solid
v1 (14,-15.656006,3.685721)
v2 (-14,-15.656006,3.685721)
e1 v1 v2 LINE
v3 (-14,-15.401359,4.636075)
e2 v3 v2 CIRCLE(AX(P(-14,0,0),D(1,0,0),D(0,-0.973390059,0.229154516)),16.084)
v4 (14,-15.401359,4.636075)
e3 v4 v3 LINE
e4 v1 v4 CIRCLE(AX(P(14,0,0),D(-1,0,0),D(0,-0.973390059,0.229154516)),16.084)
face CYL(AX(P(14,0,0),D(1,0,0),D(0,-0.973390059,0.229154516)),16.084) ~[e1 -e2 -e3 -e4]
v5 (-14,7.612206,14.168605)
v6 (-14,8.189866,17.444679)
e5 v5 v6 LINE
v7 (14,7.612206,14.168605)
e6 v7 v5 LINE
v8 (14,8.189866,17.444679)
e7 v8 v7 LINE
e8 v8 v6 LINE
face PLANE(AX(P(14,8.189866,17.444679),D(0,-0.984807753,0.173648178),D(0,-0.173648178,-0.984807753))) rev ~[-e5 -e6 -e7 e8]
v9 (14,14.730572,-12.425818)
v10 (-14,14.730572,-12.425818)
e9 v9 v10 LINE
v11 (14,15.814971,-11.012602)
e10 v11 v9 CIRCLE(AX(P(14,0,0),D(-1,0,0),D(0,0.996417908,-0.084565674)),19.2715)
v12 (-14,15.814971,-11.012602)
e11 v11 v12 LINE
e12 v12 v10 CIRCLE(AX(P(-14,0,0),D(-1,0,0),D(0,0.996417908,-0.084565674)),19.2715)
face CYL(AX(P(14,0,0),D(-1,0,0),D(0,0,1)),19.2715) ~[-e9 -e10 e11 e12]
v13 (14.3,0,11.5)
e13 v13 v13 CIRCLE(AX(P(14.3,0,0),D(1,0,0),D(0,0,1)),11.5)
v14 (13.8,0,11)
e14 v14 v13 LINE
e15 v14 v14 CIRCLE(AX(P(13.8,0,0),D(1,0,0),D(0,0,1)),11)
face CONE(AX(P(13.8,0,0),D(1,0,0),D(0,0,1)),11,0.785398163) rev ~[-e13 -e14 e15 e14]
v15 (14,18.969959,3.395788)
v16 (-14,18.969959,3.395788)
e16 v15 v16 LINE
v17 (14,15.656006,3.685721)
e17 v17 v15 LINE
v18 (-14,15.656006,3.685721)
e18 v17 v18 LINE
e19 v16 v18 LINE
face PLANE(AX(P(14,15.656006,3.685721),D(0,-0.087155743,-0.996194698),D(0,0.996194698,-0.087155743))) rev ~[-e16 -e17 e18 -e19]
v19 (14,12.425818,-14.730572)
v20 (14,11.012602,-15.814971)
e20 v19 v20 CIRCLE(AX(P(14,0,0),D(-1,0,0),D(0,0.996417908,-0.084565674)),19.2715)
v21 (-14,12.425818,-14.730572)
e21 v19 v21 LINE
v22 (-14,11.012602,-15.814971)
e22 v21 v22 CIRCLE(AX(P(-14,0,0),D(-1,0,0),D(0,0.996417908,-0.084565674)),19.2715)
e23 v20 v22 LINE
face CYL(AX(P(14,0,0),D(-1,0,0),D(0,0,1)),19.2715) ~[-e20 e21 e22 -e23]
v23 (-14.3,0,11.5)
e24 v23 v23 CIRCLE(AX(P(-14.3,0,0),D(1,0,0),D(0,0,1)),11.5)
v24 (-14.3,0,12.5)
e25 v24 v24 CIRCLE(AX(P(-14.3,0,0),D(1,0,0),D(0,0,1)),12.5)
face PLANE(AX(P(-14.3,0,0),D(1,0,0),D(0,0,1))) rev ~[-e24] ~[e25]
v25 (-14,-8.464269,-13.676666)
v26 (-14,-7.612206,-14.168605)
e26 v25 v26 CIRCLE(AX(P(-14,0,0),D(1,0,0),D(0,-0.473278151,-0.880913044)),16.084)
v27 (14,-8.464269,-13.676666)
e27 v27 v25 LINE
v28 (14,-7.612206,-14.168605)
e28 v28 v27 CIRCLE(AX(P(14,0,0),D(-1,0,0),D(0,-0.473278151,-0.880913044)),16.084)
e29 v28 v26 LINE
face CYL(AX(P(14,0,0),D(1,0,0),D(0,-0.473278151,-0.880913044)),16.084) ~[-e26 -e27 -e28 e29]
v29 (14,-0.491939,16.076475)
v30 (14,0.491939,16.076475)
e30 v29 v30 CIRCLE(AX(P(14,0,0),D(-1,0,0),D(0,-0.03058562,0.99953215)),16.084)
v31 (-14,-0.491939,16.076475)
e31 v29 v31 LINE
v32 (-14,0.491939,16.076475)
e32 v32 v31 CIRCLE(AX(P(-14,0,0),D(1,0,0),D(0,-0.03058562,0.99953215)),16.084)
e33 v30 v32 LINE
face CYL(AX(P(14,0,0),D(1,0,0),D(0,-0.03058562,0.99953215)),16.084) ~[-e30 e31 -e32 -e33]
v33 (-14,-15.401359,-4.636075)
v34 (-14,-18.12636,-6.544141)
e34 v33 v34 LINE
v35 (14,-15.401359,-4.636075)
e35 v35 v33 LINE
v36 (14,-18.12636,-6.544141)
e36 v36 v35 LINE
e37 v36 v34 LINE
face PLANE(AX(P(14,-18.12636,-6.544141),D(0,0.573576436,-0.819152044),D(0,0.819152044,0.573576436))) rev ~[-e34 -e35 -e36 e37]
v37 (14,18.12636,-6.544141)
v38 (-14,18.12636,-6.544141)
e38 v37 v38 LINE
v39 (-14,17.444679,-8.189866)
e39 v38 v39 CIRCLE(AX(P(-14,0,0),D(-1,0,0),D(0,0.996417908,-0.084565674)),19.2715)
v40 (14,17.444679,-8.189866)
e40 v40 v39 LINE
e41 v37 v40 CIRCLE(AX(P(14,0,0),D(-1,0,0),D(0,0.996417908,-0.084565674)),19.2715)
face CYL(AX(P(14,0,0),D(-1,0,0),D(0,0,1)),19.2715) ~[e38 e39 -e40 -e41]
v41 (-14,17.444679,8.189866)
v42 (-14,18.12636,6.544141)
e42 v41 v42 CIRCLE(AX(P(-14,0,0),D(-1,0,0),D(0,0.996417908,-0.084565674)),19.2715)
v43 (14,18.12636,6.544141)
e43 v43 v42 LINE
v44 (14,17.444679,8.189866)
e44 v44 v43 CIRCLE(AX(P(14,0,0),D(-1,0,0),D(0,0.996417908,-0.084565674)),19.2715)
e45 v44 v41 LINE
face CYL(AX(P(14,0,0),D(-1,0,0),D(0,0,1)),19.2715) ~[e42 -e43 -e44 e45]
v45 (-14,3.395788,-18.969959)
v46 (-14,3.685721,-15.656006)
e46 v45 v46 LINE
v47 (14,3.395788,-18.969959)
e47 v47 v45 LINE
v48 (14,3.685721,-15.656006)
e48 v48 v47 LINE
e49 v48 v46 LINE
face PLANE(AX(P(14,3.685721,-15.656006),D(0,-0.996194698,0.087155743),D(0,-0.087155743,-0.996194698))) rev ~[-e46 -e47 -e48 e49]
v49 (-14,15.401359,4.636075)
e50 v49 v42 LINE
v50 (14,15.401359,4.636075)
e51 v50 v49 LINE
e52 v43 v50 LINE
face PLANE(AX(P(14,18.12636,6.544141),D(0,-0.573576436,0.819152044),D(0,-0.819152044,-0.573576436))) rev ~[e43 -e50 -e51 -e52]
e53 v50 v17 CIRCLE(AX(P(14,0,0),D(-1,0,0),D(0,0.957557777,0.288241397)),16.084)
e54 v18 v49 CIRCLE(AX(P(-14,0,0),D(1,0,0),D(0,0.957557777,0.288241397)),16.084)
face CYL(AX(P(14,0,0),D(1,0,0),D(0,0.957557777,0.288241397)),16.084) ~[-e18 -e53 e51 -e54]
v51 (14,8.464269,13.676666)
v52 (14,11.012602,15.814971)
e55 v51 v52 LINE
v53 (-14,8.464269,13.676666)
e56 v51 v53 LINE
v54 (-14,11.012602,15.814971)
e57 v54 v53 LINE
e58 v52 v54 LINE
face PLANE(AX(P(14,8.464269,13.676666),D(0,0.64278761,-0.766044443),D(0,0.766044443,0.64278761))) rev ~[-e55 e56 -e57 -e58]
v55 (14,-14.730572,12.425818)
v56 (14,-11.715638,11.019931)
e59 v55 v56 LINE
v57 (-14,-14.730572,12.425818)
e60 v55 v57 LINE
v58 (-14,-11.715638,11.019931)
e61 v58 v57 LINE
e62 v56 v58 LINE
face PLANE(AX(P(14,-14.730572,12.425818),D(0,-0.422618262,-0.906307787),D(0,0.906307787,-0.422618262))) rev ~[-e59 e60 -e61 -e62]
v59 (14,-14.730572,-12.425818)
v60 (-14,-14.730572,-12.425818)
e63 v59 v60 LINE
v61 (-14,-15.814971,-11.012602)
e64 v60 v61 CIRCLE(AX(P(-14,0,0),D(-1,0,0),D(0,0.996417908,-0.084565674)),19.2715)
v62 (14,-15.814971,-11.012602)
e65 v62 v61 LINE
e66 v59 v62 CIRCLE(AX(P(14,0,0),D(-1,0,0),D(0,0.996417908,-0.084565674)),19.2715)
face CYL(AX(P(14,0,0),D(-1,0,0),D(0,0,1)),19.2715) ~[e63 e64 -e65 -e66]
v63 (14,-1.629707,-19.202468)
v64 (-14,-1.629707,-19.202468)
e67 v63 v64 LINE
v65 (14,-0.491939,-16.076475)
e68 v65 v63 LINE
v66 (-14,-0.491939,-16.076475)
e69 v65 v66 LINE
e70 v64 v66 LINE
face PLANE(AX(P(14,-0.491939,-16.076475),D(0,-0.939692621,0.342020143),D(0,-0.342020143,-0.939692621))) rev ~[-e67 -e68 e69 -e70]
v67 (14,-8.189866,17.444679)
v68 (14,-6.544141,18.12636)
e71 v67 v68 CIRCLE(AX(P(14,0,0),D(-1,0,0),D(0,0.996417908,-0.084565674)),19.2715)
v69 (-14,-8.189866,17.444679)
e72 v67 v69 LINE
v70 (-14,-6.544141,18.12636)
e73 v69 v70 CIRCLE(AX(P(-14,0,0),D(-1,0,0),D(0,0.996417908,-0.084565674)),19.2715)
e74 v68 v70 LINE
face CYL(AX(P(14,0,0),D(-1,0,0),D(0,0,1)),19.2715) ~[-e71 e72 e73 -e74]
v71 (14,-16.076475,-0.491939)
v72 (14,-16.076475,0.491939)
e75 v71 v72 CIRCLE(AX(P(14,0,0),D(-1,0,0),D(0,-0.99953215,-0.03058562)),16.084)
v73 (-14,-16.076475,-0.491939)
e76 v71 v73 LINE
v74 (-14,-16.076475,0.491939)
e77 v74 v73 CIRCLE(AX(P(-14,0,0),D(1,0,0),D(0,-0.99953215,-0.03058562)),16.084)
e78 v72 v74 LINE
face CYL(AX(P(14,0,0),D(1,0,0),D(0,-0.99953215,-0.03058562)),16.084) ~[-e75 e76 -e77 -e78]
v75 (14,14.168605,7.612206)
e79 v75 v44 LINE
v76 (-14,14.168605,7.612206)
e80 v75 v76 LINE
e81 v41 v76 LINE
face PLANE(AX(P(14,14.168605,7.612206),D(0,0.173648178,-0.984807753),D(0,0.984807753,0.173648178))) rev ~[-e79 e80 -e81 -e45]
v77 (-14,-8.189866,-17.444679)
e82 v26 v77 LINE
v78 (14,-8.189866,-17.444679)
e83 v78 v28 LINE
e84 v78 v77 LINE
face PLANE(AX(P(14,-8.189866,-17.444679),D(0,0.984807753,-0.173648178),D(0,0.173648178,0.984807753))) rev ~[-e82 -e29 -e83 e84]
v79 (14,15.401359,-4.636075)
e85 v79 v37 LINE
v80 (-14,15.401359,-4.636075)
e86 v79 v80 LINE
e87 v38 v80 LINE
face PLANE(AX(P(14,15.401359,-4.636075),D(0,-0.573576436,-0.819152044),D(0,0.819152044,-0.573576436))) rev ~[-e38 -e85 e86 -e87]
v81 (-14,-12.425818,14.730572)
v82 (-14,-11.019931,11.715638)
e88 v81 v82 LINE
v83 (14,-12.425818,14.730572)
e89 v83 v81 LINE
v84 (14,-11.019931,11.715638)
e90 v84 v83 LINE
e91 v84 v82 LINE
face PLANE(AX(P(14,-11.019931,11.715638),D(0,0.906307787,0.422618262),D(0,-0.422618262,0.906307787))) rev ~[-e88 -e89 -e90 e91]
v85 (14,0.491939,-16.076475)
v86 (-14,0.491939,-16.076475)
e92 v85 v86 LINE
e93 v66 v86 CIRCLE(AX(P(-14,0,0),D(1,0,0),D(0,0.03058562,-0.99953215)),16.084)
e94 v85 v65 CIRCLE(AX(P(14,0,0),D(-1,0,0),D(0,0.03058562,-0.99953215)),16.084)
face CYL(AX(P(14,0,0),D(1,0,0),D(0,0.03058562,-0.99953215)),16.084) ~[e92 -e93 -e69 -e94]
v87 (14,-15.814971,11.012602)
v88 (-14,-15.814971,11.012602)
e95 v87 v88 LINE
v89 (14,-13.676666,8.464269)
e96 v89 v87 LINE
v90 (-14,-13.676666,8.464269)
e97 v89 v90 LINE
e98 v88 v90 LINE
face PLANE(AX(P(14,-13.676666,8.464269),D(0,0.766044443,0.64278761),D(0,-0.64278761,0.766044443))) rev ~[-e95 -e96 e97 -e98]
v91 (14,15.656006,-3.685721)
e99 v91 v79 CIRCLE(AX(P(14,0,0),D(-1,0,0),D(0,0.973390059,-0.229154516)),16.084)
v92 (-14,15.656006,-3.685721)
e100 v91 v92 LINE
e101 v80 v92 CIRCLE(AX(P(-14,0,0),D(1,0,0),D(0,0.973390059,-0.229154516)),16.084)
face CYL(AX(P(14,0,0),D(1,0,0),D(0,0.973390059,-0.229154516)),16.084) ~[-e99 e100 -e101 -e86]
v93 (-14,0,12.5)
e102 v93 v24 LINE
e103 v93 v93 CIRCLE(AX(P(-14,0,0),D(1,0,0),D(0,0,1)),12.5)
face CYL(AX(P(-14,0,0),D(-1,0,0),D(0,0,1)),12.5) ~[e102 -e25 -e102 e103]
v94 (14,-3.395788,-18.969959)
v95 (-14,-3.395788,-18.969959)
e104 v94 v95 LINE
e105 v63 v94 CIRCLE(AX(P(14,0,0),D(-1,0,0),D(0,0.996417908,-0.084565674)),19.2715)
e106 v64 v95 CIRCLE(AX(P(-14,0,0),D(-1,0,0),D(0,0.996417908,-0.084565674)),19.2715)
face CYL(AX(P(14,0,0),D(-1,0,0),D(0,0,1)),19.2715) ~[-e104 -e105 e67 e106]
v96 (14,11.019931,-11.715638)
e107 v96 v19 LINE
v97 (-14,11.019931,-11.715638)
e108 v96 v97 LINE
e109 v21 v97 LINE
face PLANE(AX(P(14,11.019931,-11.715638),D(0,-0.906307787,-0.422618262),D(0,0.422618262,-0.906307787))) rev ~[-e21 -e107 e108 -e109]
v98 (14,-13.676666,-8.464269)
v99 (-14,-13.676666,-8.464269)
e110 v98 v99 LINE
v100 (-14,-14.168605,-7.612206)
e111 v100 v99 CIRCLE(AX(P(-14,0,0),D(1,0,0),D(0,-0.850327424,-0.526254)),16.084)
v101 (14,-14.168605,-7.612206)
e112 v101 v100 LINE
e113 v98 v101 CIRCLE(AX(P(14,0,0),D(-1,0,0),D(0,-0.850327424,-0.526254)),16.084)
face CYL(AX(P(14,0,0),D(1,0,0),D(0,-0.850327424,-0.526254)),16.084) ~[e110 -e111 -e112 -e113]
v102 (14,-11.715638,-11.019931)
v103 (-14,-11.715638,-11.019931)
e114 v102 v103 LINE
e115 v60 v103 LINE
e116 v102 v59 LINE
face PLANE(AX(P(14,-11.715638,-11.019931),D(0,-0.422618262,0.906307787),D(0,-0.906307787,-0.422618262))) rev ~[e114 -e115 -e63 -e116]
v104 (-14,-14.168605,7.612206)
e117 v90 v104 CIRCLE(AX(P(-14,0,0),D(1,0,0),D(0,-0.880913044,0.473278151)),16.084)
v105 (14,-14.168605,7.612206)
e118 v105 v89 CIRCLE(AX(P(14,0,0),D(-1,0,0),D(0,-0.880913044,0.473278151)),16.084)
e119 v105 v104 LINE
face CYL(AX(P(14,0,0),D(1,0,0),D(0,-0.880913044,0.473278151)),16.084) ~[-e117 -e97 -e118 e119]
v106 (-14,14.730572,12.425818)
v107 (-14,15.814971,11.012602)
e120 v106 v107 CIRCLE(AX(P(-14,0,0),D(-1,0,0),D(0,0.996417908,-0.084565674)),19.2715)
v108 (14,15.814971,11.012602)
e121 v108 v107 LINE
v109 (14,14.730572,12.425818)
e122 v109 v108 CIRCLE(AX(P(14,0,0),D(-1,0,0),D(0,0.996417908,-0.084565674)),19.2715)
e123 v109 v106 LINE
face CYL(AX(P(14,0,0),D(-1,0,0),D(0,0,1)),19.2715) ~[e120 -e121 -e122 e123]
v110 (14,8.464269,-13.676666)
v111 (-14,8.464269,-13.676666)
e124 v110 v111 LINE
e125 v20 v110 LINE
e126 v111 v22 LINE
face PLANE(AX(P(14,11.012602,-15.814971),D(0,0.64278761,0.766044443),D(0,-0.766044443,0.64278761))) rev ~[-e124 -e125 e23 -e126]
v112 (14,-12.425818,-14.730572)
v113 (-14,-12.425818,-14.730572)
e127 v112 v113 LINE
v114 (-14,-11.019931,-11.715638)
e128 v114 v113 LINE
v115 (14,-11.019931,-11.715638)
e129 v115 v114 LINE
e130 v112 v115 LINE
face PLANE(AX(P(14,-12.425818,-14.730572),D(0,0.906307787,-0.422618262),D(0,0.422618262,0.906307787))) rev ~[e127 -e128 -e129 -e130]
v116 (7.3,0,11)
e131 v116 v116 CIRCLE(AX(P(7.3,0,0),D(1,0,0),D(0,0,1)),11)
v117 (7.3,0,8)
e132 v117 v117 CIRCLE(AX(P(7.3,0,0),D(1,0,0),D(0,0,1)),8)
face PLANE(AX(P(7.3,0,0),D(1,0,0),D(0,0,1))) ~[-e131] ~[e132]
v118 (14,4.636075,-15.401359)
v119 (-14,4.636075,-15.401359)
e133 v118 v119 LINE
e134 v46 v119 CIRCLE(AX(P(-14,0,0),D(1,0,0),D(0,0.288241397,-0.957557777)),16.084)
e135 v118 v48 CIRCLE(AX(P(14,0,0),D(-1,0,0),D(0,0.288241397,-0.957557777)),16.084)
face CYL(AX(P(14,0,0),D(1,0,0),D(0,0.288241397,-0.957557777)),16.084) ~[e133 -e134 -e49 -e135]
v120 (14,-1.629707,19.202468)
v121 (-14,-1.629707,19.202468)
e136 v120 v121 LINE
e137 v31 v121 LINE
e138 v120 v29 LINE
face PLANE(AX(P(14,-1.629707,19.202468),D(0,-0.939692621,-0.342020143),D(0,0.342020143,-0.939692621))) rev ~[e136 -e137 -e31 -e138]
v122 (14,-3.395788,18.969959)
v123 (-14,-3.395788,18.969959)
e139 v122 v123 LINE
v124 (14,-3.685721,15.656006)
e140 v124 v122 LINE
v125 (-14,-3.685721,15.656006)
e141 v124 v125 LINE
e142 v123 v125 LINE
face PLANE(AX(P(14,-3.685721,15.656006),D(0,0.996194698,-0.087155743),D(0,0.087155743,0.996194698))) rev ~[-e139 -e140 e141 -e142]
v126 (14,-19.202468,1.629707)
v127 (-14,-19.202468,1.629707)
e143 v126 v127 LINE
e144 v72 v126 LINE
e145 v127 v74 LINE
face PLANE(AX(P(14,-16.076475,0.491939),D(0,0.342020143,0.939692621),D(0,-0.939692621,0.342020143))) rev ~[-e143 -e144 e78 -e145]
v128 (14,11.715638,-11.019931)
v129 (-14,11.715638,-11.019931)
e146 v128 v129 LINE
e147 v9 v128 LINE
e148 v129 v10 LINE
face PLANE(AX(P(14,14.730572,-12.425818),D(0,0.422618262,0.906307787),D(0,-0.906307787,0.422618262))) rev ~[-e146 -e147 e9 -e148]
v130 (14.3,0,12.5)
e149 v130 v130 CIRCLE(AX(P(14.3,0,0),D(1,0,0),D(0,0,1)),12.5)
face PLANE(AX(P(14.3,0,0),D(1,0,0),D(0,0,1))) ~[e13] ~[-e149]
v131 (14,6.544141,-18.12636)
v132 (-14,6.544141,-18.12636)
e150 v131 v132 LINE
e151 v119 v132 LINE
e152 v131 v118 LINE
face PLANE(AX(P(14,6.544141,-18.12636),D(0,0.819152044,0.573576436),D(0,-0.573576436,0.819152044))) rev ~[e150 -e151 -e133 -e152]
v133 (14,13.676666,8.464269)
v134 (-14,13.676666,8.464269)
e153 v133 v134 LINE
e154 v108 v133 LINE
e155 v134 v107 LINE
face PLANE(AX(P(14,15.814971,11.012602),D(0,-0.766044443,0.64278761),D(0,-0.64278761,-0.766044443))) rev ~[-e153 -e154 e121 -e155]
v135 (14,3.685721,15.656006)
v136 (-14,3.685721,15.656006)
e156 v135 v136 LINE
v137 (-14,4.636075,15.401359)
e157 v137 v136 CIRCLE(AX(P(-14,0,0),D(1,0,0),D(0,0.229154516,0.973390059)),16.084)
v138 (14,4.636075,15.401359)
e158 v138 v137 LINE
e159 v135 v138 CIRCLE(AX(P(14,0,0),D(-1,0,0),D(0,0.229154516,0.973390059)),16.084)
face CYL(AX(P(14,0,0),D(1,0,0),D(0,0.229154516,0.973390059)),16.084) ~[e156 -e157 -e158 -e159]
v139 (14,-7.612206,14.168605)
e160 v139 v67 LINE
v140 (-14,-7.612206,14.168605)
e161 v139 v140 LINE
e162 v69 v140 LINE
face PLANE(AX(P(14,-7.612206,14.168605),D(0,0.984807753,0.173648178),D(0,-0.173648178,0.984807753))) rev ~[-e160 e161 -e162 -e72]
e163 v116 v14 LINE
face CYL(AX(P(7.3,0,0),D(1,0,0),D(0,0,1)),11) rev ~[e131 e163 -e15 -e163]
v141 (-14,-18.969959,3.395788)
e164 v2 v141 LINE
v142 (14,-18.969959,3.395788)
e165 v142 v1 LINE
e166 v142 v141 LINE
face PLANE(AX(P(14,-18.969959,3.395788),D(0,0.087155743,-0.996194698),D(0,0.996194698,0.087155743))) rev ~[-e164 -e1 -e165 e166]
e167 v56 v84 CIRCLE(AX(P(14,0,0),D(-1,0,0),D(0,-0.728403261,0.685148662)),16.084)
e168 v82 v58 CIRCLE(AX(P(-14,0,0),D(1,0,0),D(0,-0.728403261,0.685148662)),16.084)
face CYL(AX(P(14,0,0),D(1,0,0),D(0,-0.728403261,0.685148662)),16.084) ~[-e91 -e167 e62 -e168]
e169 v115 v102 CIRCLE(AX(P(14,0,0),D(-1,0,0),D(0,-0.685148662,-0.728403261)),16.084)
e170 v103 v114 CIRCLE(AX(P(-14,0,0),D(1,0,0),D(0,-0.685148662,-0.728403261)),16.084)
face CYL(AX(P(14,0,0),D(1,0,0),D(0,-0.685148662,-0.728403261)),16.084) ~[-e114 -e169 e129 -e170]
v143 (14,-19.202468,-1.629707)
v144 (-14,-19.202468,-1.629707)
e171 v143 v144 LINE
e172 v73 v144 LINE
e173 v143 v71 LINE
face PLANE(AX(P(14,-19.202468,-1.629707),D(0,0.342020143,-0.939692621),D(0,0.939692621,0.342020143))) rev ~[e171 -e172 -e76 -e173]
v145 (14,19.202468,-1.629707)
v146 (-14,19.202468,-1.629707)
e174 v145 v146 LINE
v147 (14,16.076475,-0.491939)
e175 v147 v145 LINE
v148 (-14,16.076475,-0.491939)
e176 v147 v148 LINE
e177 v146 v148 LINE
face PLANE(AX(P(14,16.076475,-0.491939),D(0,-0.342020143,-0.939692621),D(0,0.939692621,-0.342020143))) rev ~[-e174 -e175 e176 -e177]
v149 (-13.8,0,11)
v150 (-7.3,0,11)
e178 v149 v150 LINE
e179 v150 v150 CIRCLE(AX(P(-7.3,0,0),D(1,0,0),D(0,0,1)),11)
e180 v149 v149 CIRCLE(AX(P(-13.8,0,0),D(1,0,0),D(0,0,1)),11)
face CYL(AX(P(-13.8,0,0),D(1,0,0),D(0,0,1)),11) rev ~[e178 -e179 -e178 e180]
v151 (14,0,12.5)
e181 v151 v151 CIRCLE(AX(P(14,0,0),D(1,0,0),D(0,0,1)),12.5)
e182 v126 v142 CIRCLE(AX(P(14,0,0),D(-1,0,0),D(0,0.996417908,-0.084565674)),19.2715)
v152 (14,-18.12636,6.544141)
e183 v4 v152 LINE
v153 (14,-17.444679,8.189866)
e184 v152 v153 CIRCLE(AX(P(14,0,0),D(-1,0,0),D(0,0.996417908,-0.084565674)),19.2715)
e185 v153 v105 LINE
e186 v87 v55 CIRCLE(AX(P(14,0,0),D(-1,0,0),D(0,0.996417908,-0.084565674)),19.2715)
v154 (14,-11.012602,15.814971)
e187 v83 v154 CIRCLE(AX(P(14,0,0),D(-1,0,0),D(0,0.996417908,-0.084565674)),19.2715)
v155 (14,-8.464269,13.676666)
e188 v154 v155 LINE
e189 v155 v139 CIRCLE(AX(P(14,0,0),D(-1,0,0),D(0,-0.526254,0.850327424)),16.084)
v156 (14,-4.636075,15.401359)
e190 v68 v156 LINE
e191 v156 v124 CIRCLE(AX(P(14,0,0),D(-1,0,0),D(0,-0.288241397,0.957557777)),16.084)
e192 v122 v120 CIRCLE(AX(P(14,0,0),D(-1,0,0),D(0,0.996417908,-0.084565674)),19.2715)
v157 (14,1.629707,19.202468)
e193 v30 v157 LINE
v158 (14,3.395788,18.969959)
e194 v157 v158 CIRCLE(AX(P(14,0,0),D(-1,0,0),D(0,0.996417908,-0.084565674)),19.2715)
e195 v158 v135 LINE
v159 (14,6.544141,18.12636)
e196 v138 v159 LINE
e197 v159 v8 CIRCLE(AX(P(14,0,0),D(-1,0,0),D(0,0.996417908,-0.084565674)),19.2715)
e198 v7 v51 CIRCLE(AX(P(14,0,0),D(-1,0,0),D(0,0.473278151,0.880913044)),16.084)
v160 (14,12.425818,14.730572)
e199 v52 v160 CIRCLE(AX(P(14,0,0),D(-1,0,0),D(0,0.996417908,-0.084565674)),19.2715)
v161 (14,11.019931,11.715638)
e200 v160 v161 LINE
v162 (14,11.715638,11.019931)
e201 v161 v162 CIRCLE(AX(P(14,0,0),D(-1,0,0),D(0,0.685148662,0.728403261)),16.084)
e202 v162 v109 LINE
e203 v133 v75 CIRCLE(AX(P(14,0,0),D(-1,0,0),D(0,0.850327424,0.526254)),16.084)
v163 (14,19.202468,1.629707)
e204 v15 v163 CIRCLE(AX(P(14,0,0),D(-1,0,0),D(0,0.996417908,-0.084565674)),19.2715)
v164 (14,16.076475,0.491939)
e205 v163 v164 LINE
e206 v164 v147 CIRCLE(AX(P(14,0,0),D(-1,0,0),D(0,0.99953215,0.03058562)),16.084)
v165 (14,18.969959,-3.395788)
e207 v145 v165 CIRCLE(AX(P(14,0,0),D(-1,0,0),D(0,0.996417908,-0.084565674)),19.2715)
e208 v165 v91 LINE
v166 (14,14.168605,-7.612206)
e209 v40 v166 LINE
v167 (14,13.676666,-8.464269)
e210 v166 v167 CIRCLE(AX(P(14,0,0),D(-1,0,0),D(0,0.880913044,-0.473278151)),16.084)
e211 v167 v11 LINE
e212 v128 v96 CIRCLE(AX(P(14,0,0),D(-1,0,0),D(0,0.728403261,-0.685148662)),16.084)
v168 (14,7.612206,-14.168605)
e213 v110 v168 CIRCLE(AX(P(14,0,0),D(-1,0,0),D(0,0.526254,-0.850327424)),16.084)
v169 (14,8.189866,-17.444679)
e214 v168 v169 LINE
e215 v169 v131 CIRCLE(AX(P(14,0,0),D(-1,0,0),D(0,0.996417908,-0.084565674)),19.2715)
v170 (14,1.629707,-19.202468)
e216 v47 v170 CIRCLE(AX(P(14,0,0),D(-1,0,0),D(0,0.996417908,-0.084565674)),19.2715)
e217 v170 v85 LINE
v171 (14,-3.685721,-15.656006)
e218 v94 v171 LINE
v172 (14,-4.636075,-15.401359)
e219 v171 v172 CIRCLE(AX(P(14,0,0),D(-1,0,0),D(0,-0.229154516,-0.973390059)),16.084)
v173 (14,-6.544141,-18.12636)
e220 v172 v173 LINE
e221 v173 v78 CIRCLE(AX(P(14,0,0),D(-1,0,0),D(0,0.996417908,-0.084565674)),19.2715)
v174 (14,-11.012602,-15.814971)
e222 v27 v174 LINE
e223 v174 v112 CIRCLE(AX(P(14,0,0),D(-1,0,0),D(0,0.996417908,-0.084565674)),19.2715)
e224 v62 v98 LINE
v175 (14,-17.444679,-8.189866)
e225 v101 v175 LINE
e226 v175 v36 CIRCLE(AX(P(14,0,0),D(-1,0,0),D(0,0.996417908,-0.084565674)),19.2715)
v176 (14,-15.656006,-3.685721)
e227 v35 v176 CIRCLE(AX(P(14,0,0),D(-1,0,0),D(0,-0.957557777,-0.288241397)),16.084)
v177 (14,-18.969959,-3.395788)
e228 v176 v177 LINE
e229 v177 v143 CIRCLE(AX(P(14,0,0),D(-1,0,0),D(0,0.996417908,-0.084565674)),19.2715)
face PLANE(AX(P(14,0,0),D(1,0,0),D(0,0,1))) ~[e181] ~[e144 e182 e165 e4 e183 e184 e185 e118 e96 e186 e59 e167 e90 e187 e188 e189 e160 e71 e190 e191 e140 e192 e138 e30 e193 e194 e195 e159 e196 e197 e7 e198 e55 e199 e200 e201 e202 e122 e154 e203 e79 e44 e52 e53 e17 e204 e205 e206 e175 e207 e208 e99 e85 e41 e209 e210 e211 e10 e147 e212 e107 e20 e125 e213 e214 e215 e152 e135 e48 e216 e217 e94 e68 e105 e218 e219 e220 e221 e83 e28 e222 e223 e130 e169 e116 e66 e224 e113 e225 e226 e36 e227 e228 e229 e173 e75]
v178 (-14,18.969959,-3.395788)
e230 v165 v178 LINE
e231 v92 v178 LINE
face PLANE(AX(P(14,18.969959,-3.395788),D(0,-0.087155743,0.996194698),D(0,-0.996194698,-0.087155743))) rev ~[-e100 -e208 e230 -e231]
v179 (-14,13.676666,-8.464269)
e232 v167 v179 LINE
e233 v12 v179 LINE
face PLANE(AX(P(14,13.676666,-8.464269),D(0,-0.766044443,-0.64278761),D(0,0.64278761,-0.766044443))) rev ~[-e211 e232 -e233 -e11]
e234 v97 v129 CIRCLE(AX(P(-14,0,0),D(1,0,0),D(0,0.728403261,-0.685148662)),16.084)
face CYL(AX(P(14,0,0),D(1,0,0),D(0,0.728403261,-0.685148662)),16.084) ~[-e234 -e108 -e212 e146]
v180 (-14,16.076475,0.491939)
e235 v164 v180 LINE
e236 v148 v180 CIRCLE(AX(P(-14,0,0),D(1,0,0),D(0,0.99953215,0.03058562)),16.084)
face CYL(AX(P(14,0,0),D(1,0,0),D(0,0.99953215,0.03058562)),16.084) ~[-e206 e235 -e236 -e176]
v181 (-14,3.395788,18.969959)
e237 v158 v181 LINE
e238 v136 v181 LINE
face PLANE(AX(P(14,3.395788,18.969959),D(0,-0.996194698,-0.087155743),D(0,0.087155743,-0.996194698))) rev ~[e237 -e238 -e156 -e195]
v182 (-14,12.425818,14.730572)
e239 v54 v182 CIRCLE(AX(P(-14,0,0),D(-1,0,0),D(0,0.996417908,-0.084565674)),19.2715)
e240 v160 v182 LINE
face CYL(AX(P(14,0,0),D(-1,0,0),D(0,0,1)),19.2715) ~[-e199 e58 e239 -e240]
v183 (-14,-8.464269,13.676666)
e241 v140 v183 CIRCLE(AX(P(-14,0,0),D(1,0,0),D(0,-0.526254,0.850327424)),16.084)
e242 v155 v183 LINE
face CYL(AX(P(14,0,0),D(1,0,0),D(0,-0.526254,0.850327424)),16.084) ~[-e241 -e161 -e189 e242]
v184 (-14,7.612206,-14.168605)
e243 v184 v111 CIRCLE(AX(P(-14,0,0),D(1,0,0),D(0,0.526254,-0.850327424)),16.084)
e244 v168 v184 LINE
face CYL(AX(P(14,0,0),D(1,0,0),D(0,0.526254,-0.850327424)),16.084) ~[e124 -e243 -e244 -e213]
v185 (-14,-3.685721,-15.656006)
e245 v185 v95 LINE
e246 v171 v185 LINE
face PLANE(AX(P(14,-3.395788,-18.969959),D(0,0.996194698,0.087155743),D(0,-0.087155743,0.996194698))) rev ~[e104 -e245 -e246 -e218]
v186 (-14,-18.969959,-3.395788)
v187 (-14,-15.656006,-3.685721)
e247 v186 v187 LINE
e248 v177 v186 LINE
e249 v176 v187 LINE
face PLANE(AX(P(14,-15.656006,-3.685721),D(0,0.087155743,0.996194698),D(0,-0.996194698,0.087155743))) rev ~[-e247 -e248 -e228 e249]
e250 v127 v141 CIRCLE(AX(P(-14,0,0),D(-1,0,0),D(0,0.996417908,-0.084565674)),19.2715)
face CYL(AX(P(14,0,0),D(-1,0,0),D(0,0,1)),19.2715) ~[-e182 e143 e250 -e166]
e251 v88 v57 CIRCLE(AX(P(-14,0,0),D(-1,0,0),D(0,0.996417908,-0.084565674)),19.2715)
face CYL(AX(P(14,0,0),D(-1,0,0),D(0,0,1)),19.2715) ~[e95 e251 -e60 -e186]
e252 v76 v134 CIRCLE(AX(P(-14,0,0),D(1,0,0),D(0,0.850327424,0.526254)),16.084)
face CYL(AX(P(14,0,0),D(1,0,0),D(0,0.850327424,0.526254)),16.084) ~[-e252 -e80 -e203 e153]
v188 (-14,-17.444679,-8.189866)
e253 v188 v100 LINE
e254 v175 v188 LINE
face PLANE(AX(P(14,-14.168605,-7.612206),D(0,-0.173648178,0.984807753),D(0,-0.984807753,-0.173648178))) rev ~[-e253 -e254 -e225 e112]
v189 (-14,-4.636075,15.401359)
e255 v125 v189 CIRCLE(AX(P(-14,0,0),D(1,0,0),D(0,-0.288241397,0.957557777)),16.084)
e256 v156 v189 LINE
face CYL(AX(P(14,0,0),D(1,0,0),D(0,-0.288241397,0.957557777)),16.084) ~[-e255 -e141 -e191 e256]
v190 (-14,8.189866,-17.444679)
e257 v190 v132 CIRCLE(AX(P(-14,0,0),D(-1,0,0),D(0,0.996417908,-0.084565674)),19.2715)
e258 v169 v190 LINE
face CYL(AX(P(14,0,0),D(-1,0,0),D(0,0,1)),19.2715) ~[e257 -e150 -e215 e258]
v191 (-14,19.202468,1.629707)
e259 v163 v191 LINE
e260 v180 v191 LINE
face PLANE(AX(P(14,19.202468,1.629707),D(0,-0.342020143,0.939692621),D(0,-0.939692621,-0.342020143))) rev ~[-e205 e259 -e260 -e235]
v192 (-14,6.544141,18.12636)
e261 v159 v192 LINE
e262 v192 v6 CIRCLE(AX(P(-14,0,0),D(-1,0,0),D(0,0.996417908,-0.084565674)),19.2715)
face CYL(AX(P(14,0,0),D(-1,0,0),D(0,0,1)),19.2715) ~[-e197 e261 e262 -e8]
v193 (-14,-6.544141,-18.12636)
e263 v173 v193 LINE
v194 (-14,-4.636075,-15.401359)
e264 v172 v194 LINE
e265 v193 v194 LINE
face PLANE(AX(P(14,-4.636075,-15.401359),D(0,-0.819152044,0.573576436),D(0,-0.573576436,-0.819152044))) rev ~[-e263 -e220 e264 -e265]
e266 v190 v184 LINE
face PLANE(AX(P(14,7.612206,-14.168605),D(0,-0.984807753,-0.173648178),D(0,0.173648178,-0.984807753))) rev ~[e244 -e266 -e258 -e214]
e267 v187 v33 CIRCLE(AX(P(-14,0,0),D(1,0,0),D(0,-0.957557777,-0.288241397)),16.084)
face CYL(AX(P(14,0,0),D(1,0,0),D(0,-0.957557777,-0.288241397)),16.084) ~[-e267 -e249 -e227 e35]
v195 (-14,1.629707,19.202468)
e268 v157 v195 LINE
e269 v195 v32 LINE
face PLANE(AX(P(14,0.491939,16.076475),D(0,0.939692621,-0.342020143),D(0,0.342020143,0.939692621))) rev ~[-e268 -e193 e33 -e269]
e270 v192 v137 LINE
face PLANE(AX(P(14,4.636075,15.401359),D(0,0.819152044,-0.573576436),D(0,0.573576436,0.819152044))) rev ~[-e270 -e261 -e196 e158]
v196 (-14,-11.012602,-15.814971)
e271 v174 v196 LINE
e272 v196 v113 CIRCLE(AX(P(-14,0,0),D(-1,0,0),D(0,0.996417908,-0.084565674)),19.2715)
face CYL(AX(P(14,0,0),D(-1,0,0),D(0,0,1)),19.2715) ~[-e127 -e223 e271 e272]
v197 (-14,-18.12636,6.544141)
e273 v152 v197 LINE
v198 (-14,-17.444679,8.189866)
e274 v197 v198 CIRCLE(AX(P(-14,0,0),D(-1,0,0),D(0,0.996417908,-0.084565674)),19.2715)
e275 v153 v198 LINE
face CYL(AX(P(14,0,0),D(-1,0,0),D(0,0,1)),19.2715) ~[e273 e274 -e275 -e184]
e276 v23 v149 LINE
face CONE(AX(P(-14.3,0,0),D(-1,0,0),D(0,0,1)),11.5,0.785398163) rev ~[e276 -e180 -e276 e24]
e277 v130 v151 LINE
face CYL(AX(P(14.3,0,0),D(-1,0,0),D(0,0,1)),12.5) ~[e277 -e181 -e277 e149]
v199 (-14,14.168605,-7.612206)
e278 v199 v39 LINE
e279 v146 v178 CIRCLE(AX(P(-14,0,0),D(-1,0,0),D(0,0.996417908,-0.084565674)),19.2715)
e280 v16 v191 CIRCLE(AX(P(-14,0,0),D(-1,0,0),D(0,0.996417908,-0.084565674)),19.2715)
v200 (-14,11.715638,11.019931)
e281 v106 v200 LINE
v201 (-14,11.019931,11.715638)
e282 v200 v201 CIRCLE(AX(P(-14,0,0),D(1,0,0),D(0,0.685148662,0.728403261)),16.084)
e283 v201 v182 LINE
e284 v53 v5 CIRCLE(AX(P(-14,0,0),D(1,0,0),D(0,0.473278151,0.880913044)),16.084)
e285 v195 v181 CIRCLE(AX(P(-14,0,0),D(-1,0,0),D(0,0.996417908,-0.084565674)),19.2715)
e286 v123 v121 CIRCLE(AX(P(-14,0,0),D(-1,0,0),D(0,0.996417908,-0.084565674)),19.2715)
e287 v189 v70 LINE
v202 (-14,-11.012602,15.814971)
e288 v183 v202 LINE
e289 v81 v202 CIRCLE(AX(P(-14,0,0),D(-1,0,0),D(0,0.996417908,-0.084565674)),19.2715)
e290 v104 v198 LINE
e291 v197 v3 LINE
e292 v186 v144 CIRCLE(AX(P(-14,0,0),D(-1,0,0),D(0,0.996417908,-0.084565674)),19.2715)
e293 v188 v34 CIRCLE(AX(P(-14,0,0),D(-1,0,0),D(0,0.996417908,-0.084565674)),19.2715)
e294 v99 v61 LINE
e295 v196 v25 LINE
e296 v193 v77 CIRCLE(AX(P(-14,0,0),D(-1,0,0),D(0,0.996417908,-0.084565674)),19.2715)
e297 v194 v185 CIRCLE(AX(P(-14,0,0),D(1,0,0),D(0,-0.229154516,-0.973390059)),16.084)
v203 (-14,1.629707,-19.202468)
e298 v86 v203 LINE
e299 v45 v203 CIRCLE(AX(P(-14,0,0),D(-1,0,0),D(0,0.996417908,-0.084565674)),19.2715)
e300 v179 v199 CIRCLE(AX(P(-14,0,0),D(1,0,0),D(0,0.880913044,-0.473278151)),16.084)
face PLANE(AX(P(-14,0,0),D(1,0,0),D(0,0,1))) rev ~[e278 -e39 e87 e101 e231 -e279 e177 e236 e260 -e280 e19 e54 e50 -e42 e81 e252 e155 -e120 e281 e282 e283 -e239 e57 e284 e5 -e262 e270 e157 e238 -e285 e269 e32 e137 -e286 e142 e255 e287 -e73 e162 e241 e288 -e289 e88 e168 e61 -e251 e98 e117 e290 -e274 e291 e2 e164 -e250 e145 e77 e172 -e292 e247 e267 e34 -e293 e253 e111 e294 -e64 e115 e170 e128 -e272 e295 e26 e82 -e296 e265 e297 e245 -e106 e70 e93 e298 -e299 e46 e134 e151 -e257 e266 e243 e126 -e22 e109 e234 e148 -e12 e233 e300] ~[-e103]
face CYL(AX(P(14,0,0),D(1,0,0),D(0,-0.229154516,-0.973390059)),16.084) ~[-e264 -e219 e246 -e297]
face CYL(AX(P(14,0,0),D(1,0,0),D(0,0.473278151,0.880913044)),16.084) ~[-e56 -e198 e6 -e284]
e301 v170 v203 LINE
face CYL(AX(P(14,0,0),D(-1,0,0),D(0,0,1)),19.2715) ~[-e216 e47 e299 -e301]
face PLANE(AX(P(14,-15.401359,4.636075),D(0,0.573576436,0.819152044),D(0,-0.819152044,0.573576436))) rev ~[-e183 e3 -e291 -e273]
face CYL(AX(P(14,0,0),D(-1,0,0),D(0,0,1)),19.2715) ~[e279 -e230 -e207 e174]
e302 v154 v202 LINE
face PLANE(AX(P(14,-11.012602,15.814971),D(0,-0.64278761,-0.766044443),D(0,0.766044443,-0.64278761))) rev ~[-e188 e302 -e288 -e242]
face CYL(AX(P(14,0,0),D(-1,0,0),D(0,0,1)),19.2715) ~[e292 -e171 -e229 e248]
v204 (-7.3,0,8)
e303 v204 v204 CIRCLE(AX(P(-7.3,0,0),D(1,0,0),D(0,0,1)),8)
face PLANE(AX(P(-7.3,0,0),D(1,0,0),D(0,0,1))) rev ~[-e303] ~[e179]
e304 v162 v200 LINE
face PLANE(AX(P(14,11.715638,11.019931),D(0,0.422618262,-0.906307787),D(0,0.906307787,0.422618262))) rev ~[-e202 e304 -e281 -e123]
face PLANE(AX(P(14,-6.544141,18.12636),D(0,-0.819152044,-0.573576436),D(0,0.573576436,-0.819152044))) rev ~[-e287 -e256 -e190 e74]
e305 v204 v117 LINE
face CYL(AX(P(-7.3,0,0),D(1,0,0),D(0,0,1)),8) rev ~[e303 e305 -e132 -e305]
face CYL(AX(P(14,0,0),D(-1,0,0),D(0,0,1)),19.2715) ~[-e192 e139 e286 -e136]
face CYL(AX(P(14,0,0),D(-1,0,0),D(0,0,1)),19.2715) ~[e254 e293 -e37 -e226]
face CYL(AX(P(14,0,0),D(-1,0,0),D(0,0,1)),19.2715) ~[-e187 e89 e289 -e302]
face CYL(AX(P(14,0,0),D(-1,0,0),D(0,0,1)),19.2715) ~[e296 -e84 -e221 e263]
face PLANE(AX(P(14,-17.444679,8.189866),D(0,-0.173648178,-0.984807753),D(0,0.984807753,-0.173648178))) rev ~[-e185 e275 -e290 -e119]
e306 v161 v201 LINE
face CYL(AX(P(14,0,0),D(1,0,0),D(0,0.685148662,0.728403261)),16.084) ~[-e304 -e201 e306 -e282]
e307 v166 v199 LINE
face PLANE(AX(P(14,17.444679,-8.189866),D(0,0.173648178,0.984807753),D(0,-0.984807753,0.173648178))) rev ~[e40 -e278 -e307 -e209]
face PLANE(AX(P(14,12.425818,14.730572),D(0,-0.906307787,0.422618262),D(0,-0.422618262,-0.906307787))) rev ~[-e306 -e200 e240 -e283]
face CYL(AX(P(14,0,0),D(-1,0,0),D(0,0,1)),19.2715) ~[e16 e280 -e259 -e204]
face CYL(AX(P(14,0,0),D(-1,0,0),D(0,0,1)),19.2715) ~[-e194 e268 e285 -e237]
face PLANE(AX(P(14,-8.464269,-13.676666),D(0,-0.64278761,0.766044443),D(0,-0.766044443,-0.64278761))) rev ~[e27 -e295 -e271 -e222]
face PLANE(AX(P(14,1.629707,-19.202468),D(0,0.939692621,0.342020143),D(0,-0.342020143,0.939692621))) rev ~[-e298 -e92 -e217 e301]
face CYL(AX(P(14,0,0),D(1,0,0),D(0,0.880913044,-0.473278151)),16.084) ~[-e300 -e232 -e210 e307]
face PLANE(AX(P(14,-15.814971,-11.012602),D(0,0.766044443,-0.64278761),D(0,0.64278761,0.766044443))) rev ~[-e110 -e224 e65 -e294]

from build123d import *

# Parameters (mm, degrees)
SCHNITT_LINEAR_AUSTRAGEN1_REACH = 41.29
KREISMUSTER1_COUNT              = 24


with BuildPart() as part:
    # Skizze1 → Rotation1 (revolve)
    with BuildSketch(Plane.XY):
        Polygon((-14.3, 12.5), (-14.3, 11.5), (-13.8, 11), (-7.3, 11), (-7.3, 8), (7.3, 8), (7.3, 11), (13.8, 11), (14.3, 11.5), (14.3, 12.5), (14, 12.5), (14, 19.2715), (-14, 19.2715), (-14, 12.5), align=None)
    revolve(axis=Axis((-36.010442658, 0, 0), (1, 0, 0)))

    # Skizze2 → Schnitt-Linear austragen1 (cut, up to next)
    with BuildSketch(Plane(origin=(14, 0, 0), x_dir=(0, 0, -1), z_dir=(1, 0, 0)), mode=Mode.PRIVATE) as schnitt_linear_austragen1_sk1:
        with BuildLine():
            Line((0.491939129, 16.076475108), (1.629707388, 19.202467708))
            ThreePointArc((1.629707388, 19.202467708), (0, 19.2715), (-1.629707388, 19.202467708))
            Line((-1.629707388, 19.202467708), (-0.491939129, 16.076475108))
            ThreePointArc((-0.491939129, 16.076475108), (0, 16.084), (0.491939129, 16.076475108))
        make_face()
    schnitt_linear_austragen1_tool1 = extrude(schnitt_linear_austragen1_sk1.sketch, amount=-SCHNITT_LINEAR_AUSTRAGEN1_REACH, mode=Mode.PRIVATE) & part.part
    schnitt_linear_austragen1 = schnitt_linear_austragen1_tool1.solids().sort_by_distance((14, 17.949237, 0))[0]
    add(schnitt_linear_austragen1, mode=Mode.SUBTRACT)

    # Kreismuster1: Schnitt-Linear austragen1 ×24 about axis
    kreismuster1_axis = Axis((-15.73, 0, 0), (1, 0, 0))
    for i in range(1, KREISMUSTER1_COUNT):
        add(schnitt_linear_austragen1.rotate(kreismuster1_axis, i * 360 / KREISMUSTER1_COUNT), mode=Mode.SUBTRACT)


solid = part.part
